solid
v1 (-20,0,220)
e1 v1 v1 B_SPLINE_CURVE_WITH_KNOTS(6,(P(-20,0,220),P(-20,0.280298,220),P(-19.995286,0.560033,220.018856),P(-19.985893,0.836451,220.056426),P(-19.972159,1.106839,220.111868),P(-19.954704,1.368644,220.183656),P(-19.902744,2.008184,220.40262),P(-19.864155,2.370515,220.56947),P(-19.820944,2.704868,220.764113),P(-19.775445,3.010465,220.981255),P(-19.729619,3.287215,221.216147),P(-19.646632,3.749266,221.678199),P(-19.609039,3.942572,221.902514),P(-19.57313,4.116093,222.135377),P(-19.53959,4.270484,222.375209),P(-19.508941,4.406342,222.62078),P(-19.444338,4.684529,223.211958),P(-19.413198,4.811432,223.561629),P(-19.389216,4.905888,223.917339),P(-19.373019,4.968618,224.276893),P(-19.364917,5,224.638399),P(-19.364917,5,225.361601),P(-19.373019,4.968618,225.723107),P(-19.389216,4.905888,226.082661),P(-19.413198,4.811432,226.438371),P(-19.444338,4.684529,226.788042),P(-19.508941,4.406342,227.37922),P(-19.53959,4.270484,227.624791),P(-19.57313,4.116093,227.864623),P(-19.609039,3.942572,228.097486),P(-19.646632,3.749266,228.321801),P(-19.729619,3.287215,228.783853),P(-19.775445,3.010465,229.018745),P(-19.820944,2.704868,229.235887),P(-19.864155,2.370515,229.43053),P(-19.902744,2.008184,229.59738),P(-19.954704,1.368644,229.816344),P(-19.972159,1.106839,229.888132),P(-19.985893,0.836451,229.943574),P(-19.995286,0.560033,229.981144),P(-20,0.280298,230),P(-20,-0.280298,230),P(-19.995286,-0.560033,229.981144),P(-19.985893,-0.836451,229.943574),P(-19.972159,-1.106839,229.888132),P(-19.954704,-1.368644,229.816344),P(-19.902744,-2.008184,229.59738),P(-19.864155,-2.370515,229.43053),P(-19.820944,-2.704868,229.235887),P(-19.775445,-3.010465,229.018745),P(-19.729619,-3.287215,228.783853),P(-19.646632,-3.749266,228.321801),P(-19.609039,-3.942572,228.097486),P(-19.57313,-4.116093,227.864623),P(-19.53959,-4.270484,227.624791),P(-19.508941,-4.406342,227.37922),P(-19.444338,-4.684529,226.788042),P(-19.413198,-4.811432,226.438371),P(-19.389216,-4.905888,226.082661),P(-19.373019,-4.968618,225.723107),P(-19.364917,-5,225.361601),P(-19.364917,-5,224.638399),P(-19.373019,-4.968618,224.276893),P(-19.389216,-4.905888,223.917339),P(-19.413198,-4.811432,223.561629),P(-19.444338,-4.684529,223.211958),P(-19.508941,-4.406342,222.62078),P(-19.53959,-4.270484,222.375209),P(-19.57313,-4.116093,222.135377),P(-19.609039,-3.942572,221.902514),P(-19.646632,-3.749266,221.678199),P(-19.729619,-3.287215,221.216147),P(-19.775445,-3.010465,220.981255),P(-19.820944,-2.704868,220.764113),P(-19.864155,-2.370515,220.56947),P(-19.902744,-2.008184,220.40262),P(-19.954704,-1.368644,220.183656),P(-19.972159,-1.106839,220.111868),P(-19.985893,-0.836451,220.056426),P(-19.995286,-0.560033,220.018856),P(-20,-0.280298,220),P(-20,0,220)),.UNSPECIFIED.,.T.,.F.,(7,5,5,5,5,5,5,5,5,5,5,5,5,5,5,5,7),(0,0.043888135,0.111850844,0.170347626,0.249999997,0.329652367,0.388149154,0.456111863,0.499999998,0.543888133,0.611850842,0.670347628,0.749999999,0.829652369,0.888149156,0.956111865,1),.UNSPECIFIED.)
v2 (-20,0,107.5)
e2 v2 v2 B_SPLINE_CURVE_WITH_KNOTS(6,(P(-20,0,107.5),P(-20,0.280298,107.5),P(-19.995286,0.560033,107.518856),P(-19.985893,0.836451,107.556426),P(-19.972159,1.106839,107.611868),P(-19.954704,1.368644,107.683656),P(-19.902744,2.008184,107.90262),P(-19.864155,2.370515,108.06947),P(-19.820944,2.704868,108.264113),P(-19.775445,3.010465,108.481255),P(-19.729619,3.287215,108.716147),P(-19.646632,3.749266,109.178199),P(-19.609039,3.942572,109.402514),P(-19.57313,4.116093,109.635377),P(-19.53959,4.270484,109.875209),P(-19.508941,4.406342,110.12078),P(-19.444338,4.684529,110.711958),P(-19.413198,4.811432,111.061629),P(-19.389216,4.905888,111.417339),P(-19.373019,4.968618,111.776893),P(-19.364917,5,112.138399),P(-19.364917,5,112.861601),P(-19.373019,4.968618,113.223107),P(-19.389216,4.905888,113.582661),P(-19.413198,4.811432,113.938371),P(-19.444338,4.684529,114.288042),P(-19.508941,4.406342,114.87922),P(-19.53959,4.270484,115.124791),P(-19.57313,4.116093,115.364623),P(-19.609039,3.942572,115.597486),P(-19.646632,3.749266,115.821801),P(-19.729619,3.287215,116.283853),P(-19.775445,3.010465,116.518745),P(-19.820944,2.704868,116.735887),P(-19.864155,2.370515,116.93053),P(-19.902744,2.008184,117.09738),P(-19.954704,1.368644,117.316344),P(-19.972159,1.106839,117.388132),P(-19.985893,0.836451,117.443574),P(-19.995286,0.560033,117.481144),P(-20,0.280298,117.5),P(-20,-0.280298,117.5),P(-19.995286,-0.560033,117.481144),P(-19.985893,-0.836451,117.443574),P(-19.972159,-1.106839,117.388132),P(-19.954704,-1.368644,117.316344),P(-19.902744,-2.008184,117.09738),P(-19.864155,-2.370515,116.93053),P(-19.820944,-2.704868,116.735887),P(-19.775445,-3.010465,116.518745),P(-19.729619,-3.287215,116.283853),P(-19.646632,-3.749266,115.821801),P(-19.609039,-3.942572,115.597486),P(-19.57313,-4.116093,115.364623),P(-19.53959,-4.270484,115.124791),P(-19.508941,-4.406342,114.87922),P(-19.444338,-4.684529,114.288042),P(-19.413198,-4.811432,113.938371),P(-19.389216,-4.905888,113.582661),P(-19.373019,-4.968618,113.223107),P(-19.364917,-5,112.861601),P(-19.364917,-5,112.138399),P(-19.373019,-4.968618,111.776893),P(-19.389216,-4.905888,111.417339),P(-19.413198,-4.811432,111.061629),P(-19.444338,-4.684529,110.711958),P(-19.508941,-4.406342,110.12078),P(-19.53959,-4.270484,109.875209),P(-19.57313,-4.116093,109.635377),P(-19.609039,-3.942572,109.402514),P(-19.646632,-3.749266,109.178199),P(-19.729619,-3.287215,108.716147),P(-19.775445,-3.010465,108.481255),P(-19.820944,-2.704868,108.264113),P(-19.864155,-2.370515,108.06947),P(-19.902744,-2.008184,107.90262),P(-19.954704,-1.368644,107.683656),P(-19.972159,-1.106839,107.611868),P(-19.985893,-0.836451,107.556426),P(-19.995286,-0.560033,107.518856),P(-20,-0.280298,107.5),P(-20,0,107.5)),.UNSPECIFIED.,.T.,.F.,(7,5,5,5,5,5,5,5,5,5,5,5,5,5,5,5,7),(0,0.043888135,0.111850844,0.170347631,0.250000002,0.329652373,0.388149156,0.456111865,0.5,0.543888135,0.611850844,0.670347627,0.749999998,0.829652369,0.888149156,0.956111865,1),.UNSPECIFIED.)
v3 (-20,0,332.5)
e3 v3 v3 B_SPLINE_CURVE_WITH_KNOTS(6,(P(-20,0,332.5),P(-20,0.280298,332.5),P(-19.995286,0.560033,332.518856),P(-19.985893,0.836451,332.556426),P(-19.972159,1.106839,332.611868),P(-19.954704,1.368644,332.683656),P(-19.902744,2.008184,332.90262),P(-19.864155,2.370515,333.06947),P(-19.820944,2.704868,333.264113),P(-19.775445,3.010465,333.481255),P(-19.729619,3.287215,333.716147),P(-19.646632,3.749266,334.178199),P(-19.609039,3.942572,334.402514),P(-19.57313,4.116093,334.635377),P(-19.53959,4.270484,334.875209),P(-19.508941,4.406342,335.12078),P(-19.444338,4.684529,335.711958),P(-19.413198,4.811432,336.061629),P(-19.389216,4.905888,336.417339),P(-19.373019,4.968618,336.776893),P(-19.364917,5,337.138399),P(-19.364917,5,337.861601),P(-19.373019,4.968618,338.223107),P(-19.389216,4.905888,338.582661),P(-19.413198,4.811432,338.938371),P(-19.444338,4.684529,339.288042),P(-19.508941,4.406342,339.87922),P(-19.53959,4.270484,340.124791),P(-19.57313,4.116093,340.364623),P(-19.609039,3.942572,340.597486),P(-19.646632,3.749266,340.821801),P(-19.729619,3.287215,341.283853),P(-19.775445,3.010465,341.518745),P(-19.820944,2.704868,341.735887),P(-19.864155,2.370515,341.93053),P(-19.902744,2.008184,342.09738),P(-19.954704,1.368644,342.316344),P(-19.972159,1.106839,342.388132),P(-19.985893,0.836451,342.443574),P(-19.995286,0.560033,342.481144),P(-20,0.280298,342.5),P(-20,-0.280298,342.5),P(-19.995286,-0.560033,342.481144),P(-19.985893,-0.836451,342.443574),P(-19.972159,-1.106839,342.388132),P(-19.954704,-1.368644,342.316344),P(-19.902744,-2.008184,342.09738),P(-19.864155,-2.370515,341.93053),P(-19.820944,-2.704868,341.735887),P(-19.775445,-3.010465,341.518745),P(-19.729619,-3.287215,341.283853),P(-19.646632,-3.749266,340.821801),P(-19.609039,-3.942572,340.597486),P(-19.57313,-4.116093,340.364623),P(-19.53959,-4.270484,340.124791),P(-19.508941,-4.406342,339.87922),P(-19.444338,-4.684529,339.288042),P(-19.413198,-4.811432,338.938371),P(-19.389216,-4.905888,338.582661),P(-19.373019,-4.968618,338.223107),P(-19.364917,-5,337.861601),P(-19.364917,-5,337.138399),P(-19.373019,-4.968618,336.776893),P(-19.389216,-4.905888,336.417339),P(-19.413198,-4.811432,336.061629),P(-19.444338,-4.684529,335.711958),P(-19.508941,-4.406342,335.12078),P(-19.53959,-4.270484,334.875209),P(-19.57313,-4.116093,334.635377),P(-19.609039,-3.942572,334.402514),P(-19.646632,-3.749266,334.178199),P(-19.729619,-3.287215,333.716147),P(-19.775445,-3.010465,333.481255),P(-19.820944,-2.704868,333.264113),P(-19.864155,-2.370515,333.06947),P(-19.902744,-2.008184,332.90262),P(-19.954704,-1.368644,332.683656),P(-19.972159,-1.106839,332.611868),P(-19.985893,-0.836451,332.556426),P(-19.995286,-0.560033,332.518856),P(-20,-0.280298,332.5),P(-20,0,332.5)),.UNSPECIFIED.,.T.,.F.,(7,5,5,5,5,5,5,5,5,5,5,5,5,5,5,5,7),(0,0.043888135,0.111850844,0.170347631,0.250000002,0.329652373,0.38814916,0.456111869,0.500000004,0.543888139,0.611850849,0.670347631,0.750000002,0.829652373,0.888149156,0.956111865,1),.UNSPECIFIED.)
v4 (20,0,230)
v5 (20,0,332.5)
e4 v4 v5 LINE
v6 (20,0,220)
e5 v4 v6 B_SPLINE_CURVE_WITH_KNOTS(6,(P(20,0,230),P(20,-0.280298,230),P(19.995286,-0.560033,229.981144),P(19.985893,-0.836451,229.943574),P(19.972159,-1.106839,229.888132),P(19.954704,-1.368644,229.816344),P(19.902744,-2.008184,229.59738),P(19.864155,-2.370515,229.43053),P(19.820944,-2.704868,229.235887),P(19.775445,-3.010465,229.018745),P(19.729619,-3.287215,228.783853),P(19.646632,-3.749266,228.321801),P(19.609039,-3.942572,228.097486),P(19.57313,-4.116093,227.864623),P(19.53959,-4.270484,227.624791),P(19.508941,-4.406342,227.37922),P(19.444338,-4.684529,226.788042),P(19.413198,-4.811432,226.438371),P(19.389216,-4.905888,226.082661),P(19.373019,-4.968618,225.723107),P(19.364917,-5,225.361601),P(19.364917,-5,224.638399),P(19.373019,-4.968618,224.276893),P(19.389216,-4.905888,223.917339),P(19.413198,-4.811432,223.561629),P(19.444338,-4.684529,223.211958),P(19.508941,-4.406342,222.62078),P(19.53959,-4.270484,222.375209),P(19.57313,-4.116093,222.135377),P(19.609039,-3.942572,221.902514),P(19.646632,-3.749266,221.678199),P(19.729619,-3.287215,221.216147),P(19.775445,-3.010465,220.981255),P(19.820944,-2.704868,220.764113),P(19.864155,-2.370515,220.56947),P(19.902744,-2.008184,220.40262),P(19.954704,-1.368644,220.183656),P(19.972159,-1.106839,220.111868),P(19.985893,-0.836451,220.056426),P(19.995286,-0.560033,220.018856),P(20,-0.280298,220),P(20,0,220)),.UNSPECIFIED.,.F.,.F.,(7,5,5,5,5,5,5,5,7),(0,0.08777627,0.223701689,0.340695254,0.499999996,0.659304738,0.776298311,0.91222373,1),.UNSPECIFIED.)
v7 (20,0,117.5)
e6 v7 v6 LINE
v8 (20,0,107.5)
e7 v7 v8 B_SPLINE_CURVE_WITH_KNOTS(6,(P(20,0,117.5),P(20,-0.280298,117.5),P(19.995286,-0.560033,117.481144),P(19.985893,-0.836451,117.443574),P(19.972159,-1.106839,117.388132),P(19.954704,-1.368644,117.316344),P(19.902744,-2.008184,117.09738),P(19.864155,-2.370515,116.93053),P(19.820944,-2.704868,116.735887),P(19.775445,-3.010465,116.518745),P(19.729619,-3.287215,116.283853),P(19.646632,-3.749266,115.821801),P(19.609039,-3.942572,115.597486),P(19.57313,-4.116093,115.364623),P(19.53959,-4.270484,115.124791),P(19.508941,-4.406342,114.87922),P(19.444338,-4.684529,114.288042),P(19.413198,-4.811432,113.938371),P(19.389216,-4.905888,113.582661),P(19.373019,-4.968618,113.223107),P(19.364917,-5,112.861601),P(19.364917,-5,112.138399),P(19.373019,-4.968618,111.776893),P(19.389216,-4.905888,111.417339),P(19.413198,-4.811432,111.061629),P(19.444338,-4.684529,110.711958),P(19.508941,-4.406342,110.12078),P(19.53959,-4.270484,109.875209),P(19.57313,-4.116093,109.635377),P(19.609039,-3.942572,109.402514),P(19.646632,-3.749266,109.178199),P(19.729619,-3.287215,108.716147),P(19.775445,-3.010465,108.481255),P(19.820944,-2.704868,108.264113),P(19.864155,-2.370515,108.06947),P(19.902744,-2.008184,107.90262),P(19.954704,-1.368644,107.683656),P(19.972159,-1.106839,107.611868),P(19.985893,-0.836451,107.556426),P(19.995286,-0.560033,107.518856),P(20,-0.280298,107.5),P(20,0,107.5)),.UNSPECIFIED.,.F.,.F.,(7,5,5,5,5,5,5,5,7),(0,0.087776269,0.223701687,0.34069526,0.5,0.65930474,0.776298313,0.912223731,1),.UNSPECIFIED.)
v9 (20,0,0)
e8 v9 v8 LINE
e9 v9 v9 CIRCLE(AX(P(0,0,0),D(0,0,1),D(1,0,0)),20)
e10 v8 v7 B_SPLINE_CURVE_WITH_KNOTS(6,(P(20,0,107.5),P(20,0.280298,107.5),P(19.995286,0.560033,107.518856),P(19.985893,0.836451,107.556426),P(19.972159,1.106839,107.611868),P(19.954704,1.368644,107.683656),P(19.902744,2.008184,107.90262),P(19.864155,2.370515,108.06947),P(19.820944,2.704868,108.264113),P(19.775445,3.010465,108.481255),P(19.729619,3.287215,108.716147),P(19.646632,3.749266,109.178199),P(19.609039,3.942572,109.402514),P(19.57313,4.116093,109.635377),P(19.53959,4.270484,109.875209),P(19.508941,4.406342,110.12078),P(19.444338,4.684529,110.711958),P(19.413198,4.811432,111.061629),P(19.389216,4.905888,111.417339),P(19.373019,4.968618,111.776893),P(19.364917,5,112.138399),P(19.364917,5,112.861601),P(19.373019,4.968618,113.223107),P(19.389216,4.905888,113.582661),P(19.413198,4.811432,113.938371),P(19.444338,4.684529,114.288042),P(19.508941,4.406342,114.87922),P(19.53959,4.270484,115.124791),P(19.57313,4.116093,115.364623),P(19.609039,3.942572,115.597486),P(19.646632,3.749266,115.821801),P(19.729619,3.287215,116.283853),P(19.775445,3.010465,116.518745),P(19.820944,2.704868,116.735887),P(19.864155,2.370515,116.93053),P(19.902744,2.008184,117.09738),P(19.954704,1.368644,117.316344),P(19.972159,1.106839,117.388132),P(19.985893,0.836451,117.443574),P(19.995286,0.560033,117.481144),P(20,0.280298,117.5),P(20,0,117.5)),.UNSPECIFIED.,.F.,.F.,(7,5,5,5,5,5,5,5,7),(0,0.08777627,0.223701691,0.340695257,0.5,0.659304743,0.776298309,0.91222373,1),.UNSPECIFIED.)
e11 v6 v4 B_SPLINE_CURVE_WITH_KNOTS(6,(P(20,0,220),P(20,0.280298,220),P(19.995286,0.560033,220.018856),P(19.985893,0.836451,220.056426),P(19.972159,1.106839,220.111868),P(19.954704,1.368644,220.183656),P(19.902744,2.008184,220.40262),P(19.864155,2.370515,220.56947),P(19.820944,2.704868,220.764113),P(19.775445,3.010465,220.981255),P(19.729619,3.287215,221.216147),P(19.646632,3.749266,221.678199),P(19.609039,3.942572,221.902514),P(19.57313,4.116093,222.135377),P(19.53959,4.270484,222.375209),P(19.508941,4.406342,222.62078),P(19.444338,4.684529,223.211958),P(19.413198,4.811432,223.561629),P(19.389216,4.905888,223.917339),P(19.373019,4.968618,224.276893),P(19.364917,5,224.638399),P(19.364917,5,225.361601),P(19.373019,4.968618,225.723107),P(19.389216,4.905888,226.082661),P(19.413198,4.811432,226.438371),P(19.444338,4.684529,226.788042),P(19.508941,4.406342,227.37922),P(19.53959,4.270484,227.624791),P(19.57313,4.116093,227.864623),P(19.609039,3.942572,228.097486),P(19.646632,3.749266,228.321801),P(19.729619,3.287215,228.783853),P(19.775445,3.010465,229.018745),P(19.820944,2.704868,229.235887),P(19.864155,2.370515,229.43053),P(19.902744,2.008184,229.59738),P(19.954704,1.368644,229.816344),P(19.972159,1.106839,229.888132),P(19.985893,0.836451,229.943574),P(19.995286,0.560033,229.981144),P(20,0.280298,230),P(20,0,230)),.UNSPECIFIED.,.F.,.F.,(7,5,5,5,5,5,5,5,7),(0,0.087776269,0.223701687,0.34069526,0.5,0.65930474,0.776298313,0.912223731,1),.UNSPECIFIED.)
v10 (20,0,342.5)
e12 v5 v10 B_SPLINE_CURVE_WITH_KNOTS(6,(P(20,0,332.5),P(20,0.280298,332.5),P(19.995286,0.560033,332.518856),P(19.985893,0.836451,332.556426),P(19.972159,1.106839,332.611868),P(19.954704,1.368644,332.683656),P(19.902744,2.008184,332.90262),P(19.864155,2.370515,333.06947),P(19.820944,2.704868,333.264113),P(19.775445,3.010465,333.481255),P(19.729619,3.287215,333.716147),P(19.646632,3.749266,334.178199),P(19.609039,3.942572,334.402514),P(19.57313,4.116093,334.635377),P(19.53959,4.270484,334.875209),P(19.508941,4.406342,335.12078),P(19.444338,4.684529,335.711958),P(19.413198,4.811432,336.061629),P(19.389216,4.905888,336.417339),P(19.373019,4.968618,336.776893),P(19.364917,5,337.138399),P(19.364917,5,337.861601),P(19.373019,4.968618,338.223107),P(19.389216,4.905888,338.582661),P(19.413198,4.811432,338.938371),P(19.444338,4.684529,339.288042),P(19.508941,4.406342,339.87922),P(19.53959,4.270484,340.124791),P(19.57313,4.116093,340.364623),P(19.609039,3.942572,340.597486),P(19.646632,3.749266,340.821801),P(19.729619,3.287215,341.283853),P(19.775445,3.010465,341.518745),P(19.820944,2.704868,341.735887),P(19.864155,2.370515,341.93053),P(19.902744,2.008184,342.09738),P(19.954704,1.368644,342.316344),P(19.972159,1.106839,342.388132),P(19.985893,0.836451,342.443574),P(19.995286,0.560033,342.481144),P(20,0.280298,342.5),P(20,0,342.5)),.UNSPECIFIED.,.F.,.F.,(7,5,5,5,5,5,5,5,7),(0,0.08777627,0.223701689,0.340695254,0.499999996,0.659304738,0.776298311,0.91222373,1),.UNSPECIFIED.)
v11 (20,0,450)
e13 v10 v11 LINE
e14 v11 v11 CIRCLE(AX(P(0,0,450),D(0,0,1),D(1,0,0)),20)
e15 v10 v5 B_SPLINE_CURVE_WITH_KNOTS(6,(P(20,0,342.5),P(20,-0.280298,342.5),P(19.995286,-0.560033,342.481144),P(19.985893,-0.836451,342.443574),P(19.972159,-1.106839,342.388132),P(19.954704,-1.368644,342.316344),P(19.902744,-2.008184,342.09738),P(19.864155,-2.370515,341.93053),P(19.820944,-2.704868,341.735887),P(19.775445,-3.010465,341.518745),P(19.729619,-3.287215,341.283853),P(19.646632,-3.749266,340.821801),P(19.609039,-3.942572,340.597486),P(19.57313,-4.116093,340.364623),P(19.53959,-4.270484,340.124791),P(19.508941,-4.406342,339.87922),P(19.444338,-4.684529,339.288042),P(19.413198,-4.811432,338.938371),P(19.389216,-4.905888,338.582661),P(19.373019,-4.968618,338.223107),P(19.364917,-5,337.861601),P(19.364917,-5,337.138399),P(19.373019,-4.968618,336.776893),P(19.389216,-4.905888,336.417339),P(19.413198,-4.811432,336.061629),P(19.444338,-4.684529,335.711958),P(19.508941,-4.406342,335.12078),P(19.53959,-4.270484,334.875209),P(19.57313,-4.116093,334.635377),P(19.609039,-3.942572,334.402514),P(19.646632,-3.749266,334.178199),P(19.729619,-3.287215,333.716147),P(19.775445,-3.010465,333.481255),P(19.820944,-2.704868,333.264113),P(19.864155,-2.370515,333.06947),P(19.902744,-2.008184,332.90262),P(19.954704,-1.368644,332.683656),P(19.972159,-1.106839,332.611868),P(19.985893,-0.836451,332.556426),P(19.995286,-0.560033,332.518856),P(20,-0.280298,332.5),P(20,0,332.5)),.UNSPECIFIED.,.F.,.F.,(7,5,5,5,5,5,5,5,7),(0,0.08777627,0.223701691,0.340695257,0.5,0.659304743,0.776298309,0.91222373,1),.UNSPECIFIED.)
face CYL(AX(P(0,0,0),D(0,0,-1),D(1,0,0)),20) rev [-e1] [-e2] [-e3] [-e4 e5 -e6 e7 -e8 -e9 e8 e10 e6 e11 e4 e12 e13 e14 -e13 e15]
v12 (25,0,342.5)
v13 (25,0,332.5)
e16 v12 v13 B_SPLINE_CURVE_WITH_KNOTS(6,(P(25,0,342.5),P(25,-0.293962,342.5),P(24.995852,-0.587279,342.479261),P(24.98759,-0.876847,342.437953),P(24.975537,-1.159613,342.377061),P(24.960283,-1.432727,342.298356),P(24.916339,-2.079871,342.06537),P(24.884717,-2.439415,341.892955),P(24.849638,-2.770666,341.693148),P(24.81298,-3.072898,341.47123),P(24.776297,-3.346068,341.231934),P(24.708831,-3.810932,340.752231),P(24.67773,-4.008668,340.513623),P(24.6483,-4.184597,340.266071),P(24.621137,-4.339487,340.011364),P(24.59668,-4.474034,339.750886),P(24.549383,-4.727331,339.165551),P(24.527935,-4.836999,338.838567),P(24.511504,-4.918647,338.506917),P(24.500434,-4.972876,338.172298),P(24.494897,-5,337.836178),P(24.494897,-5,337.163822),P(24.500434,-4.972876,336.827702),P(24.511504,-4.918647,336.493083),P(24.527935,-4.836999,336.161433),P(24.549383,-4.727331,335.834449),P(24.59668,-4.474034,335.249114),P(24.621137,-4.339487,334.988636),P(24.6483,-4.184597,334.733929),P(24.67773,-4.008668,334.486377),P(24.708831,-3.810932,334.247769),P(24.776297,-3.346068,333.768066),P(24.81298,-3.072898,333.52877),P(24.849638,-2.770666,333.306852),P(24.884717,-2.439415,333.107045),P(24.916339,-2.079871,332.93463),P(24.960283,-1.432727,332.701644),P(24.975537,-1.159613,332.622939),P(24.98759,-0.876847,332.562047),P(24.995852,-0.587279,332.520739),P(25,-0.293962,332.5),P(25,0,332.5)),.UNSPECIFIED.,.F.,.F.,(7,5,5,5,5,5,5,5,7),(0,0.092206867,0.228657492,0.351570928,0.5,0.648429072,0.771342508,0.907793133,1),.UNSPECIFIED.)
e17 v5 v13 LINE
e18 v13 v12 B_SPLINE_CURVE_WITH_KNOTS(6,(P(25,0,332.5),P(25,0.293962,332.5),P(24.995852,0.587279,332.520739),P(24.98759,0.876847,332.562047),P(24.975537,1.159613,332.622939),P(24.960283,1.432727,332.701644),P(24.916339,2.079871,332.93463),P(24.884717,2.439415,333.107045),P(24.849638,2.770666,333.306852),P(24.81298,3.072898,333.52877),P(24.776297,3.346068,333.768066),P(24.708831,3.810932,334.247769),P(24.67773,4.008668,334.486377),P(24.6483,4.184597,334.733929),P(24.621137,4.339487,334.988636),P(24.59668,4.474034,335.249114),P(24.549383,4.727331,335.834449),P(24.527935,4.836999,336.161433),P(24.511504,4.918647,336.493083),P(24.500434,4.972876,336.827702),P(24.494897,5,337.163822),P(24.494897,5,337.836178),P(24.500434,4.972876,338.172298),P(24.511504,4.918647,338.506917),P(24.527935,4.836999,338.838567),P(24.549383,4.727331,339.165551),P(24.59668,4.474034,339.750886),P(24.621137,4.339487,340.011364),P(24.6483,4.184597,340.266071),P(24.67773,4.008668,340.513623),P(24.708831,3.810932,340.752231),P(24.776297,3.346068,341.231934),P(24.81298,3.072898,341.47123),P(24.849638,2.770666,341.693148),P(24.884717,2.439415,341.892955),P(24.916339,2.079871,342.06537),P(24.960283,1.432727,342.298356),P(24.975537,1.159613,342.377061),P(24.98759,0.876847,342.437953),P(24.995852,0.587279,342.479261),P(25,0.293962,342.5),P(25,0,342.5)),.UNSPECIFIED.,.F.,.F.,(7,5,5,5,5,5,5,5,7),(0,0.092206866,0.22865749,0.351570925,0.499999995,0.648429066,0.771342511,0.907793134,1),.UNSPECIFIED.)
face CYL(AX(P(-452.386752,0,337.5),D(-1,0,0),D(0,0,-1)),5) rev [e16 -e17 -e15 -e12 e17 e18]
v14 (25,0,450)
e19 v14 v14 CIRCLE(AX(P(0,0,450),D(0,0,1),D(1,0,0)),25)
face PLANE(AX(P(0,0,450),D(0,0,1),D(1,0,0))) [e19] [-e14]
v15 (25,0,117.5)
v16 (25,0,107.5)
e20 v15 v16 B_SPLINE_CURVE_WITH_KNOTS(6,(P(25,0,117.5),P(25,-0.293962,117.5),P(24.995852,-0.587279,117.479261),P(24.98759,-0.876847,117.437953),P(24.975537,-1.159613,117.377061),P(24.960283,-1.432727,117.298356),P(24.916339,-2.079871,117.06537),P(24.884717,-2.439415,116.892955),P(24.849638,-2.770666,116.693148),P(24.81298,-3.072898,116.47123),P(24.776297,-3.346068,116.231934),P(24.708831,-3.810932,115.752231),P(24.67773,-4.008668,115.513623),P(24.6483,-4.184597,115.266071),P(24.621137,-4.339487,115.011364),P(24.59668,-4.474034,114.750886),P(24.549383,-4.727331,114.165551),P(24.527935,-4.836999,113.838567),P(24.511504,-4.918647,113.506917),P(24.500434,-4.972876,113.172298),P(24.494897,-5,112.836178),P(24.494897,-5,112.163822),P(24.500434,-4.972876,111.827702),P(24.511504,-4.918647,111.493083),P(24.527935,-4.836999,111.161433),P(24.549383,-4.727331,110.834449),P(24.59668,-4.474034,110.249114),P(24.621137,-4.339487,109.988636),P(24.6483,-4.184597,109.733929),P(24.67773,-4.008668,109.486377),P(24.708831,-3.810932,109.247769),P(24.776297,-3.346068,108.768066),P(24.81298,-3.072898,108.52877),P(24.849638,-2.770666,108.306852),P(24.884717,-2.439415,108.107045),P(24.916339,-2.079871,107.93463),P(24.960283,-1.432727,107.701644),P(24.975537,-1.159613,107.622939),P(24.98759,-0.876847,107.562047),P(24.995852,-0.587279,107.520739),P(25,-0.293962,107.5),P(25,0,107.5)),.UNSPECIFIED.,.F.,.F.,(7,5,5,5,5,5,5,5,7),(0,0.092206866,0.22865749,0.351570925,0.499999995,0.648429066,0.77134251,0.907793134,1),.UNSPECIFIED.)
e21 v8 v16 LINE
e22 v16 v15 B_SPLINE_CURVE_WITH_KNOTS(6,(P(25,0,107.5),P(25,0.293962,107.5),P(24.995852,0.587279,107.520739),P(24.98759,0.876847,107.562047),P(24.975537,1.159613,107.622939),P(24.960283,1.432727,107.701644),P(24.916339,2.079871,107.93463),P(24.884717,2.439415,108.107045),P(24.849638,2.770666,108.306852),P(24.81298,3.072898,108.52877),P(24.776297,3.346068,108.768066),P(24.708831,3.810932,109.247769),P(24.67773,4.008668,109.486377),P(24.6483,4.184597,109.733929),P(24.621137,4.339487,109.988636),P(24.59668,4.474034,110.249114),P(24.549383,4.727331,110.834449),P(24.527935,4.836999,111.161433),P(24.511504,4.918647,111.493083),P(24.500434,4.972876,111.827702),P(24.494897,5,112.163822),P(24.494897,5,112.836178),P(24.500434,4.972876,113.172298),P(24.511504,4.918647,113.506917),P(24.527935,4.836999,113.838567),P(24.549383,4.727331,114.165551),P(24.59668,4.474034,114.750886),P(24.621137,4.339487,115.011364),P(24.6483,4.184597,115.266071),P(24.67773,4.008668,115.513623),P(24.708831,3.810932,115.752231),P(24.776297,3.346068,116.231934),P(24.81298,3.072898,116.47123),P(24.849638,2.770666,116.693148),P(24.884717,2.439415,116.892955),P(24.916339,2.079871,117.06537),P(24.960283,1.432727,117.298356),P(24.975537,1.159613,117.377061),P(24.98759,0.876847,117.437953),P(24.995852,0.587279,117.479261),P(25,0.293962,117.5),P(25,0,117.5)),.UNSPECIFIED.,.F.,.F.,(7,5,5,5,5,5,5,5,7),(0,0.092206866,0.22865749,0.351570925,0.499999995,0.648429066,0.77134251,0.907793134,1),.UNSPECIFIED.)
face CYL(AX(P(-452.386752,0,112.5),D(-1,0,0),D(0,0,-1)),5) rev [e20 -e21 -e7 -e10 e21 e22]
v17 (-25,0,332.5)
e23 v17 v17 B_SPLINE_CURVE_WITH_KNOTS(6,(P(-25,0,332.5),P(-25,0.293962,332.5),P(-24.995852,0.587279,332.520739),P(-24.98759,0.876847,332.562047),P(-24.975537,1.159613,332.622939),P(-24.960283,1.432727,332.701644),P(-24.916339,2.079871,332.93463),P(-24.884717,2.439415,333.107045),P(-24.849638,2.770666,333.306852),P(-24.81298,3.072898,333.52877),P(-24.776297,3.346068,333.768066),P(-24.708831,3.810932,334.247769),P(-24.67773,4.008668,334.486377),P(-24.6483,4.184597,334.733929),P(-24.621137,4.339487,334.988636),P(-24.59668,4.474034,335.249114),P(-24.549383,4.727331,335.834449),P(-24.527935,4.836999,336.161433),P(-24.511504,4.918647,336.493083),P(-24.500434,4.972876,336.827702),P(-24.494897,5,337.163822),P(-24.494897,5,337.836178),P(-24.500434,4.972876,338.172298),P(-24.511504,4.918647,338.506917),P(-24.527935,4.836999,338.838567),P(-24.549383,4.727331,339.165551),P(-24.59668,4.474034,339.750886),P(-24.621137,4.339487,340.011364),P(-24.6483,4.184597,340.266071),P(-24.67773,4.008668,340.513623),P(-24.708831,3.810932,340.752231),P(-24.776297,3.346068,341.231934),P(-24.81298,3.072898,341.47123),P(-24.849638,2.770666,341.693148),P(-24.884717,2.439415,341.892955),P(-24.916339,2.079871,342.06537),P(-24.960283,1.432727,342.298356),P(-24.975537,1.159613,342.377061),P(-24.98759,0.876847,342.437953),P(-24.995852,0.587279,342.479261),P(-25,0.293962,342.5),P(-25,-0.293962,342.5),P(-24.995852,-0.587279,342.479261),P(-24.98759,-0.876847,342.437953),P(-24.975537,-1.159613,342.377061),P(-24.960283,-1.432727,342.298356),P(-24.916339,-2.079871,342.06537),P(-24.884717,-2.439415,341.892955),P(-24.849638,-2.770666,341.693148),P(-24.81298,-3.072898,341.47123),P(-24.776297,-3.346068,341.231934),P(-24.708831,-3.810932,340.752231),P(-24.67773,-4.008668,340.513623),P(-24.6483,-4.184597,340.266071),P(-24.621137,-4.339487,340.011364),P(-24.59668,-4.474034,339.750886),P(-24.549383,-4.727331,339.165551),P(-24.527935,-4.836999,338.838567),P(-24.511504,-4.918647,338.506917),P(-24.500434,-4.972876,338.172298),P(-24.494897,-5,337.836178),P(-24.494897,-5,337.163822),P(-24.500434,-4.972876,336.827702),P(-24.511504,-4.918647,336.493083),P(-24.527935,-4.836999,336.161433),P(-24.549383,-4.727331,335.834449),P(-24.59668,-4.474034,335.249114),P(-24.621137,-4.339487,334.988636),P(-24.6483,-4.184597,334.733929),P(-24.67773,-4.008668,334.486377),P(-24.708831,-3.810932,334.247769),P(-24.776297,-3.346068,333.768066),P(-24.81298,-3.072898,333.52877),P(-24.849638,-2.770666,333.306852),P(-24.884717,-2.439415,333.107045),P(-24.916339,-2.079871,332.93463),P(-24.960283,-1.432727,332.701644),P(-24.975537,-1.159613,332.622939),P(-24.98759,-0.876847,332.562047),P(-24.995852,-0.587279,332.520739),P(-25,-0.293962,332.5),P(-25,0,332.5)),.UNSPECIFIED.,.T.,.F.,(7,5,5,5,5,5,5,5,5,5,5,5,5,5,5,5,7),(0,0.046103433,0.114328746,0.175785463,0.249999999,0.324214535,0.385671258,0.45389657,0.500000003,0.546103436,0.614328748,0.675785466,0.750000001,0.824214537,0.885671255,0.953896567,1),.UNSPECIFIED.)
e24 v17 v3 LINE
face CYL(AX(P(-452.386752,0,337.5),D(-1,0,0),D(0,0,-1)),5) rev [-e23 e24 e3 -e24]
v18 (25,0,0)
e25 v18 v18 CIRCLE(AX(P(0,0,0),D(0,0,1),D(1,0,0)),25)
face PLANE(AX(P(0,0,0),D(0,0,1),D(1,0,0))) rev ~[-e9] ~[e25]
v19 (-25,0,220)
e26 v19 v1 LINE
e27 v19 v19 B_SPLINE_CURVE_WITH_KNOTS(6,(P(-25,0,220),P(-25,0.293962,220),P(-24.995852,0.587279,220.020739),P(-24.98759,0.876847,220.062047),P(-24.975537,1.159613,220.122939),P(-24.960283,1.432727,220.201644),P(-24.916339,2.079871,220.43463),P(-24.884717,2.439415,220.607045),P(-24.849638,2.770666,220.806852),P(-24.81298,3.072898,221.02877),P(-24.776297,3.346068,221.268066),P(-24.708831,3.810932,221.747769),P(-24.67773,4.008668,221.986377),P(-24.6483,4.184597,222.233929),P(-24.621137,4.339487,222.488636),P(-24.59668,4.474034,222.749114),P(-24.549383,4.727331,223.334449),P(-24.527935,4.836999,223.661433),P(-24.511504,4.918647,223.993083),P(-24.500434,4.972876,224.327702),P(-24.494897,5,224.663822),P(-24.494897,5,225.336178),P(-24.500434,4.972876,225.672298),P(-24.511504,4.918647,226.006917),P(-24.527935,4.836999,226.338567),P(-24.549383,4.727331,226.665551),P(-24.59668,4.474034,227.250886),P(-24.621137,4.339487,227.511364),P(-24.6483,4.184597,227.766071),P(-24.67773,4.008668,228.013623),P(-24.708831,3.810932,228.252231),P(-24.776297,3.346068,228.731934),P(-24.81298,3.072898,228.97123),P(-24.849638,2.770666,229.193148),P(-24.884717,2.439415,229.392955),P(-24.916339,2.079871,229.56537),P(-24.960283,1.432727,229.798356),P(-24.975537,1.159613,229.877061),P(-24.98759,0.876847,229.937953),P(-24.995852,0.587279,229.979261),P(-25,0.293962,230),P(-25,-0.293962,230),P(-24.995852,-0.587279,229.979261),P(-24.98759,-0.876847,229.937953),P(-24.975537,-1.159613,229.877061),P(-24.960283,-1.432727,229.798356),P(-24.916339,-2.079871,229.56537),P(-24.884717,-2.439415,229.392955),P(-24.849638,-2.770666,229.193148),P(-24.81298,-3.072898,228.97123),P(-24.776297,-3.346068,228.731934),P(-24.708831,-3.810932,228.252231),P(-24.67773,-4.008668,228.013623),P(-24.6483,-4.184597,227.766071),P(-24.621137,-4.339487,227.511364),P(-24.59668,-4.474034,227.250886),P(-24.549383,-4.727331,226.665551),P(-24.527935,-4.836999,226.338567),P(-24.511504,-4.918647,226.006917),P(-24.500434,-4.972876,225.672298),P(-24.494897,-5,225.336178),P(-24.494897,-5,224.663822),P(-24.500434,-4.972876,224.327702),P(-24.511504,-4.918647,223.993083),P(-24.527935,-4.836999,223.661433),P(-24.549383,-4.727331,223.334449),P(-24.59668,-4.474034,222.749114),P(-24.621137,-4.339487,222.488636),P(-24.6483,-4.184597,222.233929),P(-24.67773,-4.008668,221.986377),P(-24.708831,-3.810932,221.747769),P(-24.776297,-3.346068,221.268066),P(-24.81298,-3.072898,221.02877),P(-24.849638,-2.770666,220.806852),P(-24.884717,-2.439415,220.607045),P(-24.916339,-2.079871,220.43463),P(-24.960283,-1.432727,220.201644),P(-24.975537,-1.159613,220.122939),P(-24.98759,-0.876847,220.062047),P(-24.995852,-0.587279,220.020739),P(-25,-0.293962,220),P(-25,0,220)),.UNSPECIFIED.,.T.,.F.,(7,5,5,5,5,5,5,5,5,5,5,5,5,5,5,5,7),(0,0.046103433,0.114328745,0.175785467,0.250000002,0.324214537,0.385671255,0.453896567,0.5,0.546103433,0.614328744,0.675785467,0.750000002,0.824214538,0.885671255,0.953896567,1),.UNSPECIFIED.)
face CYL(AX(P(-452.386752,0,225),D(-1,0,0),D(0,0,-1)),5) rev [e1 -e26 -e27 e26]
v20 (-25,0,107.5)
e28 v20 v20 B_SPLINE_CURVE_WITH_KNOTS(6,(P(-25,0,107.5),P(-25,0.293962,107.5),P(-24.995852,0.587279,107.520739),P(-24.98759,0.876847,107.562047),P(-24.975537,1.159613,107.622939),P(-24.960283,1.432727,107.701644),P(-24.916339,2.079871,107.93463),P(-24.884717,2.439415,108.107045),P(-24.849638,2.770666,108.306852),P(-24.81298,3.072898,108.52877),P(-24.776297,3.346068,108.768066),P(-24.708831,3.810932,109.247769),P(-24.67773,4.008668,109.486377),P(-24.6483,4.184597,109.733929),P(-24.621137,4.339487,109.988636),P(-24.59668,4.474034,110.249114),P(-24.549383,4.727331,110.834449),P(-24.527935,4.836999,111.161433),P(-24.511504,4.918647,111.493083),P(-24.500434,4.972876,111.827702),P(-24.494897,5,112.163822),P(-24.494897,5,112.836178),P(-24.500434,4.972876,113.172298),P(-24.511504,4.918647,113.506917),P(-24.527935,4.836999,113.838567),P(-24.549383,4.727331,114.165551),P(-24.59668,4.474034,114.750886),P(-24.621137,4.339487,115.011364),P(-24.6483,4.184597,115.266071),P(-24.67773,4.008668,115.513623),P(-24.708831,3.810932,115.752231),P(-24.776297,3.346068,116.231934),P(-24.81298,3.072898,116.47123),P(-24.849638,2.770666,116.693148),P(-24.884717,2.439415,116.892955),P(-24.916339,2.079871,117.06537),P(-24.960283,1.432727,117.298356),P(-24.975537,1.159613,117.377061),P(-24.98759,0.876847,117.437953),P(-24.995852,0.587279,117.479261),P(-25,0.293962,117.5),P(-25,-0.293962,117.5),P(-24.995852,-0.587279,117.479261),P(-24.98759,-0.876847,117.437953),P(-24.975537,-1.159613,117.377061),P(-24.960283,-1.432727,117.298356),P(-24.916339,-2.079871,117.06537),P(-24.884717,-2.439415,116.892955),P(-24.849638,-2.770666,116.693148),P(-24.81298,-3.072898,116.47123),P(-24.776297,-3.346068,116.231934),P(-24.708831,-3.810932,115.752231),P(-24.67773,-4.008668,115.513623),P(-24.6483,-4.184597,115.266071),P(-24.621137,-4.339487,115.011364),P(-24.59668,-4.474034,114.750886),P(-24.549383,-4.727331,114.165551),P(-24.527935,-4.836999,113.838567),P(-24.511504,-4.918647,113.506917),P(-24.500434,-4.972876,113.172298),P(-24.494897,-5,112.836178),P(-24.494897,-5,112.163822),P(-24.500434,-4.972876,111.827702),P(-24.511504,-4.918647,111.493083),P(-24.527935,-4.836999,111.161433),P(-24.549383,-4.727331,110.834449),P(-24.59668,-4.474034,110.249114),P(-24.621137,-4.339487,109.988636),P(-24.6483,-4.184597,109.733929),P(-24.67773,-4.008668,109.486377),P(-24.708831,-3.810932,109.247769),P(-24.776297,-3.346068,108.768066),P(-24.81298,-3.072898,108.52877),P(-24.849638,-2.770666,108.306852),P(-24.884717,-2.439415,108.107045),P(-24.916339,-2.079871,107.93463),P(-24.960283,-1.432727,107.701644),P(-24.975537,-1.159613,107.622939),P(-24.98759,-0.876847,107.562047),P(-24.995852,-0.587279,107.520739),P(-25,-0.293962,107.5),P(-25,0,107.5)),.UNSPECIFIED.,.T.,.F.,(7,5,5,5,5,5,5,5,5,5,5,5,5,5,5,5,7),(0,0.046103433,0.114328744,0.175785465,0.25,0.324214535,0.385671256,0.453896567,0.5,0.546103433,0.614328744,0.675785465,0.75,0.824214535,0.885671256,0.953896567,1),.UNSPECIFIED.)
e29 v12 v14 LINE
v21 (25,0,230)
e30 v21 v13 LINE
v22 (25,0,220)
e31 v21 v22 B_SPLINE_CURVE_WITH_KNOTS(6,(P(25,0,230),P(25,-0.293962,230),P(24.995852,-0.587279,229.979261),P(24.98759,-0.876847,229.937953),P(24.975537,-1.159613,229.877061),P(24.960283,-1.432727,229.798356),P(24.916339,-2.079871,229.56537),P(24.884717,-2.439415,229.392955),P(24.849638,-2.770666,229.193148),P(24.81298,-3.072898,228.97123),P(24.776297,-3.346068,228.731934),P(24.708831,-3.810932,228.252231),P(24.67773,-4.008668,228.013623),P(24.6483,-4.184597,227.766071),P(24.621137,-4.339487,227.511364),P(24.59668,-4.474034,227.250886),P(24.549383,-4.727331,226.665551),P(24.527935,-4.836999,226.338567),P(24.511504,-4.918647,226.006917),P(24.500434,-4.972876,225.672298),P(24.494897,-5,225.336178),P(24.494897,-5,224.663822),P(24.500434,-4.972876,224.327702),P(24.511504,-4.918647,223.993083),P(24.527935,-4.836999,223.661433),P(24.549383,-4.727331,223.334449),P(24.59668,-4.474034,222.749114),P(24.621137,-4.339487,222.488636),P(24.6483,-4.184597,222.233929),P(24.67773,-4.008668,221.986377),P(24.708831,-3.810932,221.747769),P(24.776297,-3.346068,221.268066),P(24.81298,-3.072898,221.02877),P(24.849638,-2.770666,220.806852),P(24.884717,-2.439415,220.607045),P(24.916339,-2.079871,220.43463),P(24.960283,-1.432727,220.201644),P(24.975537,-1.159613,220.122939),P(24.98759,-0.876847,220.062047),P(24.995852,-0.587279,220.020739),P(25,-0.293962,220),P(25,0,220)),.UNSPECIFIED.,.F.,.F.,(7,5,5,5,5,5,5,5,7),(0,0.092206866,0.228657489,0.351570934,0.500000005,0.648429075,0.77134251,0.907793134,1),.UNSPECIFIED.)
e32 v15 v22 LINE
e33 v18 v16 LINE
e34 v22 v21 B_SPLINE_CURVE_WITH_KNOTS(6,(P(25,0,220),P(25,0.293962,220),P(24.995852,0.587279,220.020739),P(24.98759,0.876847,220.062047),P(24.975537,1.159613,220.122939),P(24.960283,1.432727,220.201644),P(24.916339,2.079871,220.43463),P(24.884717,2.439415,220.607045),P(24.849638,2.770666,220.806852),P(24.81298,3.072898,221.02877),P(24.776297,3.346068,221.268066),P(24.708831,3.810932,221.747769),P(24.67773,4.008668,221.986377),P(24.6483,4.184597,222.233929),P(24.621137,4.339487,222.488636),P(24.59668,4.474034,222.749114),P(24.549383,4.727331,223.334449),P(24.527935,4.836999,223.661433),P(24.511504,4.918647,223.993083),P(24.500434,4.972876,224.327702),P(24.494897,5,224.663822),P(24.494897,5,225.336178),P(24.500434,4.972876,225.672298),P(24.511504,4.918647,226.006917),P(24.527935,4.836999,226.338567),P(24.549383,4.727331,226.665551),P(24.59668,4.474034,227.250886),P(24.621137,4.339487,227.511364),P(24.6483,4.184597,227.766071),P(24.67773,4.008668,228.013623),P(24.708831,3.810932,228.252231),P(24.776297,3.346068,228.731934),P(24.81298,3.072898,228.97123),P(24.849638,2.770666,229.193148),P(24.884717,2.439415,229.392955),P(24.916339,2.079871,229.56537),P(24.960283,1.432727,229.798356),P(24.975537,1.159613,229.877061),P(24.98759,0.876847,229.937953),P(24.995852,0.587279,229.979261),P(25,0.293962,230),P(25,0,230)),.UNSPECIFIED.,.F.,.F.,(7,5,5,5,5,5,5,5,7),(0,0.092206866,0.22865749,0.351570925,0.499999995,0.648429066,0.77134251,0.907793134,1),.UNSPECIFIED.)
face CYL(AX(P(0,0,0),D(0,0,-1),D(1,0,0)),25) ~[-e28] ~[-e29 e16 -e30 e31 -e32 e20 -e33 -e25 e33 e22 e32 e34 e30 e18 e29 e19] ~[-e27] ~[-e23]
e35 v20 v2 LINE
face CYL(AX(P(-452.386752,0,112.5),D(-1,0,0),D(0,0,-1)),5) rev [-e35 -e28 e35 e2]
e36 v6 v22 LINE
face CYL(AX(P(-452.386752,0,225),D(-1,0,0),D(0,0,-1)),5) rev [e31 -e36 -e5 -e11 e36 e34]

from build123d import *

# Parameters (mm, degrees)
SKETCH1_R               = 25
SKETCH1_R_2             = 20
BOSS_EXTRUDE1_DEPTH     = 450
CUT_EXTRUDE2_DEPTH      = 452.386752132
CUT_EXTRUDE2_DEPTH_BACK = 452.386752132
SKETCH2_R               = 5


with BuildPart() as part:
    # Sketch1 → Boss-Extrude1 (new body)
    with BuildSketch(Plane.XY):
        Circle(SKETCH1_R)
        Circle(SKETCH1_R_2, mode=Mode.SUBTRACT)
    extrude(amount=BOSS_EXTRUDE1_DEPTH)

    # Sketch2 → Cut-Extrude2 (cut, two sides: drawn at the far end of the back side and taken through both)
    with BuildSketch(Plane(origin=(0, 0, 0), x_dir=(0, 0, -1), z_dir=(1, 0, 0)).offset(-CUT_EXTRUDE2_DEPTH_BACK)):
        with Locations((-337.5, 0)):
            Circle(SKETCH2_R)
        with Locations((-225, 0)):
            Circle(SKETCH2_R)
        with Locations((-112.5, 0)):
            Circle(SKETCH2_R)
    extrude(amount=CUT_EXTRUDE2_DEPTH + CUT_EXTRUDE2_DEPTH_BACK, mode=Mode.SUBTRACT)


solid = part.part
